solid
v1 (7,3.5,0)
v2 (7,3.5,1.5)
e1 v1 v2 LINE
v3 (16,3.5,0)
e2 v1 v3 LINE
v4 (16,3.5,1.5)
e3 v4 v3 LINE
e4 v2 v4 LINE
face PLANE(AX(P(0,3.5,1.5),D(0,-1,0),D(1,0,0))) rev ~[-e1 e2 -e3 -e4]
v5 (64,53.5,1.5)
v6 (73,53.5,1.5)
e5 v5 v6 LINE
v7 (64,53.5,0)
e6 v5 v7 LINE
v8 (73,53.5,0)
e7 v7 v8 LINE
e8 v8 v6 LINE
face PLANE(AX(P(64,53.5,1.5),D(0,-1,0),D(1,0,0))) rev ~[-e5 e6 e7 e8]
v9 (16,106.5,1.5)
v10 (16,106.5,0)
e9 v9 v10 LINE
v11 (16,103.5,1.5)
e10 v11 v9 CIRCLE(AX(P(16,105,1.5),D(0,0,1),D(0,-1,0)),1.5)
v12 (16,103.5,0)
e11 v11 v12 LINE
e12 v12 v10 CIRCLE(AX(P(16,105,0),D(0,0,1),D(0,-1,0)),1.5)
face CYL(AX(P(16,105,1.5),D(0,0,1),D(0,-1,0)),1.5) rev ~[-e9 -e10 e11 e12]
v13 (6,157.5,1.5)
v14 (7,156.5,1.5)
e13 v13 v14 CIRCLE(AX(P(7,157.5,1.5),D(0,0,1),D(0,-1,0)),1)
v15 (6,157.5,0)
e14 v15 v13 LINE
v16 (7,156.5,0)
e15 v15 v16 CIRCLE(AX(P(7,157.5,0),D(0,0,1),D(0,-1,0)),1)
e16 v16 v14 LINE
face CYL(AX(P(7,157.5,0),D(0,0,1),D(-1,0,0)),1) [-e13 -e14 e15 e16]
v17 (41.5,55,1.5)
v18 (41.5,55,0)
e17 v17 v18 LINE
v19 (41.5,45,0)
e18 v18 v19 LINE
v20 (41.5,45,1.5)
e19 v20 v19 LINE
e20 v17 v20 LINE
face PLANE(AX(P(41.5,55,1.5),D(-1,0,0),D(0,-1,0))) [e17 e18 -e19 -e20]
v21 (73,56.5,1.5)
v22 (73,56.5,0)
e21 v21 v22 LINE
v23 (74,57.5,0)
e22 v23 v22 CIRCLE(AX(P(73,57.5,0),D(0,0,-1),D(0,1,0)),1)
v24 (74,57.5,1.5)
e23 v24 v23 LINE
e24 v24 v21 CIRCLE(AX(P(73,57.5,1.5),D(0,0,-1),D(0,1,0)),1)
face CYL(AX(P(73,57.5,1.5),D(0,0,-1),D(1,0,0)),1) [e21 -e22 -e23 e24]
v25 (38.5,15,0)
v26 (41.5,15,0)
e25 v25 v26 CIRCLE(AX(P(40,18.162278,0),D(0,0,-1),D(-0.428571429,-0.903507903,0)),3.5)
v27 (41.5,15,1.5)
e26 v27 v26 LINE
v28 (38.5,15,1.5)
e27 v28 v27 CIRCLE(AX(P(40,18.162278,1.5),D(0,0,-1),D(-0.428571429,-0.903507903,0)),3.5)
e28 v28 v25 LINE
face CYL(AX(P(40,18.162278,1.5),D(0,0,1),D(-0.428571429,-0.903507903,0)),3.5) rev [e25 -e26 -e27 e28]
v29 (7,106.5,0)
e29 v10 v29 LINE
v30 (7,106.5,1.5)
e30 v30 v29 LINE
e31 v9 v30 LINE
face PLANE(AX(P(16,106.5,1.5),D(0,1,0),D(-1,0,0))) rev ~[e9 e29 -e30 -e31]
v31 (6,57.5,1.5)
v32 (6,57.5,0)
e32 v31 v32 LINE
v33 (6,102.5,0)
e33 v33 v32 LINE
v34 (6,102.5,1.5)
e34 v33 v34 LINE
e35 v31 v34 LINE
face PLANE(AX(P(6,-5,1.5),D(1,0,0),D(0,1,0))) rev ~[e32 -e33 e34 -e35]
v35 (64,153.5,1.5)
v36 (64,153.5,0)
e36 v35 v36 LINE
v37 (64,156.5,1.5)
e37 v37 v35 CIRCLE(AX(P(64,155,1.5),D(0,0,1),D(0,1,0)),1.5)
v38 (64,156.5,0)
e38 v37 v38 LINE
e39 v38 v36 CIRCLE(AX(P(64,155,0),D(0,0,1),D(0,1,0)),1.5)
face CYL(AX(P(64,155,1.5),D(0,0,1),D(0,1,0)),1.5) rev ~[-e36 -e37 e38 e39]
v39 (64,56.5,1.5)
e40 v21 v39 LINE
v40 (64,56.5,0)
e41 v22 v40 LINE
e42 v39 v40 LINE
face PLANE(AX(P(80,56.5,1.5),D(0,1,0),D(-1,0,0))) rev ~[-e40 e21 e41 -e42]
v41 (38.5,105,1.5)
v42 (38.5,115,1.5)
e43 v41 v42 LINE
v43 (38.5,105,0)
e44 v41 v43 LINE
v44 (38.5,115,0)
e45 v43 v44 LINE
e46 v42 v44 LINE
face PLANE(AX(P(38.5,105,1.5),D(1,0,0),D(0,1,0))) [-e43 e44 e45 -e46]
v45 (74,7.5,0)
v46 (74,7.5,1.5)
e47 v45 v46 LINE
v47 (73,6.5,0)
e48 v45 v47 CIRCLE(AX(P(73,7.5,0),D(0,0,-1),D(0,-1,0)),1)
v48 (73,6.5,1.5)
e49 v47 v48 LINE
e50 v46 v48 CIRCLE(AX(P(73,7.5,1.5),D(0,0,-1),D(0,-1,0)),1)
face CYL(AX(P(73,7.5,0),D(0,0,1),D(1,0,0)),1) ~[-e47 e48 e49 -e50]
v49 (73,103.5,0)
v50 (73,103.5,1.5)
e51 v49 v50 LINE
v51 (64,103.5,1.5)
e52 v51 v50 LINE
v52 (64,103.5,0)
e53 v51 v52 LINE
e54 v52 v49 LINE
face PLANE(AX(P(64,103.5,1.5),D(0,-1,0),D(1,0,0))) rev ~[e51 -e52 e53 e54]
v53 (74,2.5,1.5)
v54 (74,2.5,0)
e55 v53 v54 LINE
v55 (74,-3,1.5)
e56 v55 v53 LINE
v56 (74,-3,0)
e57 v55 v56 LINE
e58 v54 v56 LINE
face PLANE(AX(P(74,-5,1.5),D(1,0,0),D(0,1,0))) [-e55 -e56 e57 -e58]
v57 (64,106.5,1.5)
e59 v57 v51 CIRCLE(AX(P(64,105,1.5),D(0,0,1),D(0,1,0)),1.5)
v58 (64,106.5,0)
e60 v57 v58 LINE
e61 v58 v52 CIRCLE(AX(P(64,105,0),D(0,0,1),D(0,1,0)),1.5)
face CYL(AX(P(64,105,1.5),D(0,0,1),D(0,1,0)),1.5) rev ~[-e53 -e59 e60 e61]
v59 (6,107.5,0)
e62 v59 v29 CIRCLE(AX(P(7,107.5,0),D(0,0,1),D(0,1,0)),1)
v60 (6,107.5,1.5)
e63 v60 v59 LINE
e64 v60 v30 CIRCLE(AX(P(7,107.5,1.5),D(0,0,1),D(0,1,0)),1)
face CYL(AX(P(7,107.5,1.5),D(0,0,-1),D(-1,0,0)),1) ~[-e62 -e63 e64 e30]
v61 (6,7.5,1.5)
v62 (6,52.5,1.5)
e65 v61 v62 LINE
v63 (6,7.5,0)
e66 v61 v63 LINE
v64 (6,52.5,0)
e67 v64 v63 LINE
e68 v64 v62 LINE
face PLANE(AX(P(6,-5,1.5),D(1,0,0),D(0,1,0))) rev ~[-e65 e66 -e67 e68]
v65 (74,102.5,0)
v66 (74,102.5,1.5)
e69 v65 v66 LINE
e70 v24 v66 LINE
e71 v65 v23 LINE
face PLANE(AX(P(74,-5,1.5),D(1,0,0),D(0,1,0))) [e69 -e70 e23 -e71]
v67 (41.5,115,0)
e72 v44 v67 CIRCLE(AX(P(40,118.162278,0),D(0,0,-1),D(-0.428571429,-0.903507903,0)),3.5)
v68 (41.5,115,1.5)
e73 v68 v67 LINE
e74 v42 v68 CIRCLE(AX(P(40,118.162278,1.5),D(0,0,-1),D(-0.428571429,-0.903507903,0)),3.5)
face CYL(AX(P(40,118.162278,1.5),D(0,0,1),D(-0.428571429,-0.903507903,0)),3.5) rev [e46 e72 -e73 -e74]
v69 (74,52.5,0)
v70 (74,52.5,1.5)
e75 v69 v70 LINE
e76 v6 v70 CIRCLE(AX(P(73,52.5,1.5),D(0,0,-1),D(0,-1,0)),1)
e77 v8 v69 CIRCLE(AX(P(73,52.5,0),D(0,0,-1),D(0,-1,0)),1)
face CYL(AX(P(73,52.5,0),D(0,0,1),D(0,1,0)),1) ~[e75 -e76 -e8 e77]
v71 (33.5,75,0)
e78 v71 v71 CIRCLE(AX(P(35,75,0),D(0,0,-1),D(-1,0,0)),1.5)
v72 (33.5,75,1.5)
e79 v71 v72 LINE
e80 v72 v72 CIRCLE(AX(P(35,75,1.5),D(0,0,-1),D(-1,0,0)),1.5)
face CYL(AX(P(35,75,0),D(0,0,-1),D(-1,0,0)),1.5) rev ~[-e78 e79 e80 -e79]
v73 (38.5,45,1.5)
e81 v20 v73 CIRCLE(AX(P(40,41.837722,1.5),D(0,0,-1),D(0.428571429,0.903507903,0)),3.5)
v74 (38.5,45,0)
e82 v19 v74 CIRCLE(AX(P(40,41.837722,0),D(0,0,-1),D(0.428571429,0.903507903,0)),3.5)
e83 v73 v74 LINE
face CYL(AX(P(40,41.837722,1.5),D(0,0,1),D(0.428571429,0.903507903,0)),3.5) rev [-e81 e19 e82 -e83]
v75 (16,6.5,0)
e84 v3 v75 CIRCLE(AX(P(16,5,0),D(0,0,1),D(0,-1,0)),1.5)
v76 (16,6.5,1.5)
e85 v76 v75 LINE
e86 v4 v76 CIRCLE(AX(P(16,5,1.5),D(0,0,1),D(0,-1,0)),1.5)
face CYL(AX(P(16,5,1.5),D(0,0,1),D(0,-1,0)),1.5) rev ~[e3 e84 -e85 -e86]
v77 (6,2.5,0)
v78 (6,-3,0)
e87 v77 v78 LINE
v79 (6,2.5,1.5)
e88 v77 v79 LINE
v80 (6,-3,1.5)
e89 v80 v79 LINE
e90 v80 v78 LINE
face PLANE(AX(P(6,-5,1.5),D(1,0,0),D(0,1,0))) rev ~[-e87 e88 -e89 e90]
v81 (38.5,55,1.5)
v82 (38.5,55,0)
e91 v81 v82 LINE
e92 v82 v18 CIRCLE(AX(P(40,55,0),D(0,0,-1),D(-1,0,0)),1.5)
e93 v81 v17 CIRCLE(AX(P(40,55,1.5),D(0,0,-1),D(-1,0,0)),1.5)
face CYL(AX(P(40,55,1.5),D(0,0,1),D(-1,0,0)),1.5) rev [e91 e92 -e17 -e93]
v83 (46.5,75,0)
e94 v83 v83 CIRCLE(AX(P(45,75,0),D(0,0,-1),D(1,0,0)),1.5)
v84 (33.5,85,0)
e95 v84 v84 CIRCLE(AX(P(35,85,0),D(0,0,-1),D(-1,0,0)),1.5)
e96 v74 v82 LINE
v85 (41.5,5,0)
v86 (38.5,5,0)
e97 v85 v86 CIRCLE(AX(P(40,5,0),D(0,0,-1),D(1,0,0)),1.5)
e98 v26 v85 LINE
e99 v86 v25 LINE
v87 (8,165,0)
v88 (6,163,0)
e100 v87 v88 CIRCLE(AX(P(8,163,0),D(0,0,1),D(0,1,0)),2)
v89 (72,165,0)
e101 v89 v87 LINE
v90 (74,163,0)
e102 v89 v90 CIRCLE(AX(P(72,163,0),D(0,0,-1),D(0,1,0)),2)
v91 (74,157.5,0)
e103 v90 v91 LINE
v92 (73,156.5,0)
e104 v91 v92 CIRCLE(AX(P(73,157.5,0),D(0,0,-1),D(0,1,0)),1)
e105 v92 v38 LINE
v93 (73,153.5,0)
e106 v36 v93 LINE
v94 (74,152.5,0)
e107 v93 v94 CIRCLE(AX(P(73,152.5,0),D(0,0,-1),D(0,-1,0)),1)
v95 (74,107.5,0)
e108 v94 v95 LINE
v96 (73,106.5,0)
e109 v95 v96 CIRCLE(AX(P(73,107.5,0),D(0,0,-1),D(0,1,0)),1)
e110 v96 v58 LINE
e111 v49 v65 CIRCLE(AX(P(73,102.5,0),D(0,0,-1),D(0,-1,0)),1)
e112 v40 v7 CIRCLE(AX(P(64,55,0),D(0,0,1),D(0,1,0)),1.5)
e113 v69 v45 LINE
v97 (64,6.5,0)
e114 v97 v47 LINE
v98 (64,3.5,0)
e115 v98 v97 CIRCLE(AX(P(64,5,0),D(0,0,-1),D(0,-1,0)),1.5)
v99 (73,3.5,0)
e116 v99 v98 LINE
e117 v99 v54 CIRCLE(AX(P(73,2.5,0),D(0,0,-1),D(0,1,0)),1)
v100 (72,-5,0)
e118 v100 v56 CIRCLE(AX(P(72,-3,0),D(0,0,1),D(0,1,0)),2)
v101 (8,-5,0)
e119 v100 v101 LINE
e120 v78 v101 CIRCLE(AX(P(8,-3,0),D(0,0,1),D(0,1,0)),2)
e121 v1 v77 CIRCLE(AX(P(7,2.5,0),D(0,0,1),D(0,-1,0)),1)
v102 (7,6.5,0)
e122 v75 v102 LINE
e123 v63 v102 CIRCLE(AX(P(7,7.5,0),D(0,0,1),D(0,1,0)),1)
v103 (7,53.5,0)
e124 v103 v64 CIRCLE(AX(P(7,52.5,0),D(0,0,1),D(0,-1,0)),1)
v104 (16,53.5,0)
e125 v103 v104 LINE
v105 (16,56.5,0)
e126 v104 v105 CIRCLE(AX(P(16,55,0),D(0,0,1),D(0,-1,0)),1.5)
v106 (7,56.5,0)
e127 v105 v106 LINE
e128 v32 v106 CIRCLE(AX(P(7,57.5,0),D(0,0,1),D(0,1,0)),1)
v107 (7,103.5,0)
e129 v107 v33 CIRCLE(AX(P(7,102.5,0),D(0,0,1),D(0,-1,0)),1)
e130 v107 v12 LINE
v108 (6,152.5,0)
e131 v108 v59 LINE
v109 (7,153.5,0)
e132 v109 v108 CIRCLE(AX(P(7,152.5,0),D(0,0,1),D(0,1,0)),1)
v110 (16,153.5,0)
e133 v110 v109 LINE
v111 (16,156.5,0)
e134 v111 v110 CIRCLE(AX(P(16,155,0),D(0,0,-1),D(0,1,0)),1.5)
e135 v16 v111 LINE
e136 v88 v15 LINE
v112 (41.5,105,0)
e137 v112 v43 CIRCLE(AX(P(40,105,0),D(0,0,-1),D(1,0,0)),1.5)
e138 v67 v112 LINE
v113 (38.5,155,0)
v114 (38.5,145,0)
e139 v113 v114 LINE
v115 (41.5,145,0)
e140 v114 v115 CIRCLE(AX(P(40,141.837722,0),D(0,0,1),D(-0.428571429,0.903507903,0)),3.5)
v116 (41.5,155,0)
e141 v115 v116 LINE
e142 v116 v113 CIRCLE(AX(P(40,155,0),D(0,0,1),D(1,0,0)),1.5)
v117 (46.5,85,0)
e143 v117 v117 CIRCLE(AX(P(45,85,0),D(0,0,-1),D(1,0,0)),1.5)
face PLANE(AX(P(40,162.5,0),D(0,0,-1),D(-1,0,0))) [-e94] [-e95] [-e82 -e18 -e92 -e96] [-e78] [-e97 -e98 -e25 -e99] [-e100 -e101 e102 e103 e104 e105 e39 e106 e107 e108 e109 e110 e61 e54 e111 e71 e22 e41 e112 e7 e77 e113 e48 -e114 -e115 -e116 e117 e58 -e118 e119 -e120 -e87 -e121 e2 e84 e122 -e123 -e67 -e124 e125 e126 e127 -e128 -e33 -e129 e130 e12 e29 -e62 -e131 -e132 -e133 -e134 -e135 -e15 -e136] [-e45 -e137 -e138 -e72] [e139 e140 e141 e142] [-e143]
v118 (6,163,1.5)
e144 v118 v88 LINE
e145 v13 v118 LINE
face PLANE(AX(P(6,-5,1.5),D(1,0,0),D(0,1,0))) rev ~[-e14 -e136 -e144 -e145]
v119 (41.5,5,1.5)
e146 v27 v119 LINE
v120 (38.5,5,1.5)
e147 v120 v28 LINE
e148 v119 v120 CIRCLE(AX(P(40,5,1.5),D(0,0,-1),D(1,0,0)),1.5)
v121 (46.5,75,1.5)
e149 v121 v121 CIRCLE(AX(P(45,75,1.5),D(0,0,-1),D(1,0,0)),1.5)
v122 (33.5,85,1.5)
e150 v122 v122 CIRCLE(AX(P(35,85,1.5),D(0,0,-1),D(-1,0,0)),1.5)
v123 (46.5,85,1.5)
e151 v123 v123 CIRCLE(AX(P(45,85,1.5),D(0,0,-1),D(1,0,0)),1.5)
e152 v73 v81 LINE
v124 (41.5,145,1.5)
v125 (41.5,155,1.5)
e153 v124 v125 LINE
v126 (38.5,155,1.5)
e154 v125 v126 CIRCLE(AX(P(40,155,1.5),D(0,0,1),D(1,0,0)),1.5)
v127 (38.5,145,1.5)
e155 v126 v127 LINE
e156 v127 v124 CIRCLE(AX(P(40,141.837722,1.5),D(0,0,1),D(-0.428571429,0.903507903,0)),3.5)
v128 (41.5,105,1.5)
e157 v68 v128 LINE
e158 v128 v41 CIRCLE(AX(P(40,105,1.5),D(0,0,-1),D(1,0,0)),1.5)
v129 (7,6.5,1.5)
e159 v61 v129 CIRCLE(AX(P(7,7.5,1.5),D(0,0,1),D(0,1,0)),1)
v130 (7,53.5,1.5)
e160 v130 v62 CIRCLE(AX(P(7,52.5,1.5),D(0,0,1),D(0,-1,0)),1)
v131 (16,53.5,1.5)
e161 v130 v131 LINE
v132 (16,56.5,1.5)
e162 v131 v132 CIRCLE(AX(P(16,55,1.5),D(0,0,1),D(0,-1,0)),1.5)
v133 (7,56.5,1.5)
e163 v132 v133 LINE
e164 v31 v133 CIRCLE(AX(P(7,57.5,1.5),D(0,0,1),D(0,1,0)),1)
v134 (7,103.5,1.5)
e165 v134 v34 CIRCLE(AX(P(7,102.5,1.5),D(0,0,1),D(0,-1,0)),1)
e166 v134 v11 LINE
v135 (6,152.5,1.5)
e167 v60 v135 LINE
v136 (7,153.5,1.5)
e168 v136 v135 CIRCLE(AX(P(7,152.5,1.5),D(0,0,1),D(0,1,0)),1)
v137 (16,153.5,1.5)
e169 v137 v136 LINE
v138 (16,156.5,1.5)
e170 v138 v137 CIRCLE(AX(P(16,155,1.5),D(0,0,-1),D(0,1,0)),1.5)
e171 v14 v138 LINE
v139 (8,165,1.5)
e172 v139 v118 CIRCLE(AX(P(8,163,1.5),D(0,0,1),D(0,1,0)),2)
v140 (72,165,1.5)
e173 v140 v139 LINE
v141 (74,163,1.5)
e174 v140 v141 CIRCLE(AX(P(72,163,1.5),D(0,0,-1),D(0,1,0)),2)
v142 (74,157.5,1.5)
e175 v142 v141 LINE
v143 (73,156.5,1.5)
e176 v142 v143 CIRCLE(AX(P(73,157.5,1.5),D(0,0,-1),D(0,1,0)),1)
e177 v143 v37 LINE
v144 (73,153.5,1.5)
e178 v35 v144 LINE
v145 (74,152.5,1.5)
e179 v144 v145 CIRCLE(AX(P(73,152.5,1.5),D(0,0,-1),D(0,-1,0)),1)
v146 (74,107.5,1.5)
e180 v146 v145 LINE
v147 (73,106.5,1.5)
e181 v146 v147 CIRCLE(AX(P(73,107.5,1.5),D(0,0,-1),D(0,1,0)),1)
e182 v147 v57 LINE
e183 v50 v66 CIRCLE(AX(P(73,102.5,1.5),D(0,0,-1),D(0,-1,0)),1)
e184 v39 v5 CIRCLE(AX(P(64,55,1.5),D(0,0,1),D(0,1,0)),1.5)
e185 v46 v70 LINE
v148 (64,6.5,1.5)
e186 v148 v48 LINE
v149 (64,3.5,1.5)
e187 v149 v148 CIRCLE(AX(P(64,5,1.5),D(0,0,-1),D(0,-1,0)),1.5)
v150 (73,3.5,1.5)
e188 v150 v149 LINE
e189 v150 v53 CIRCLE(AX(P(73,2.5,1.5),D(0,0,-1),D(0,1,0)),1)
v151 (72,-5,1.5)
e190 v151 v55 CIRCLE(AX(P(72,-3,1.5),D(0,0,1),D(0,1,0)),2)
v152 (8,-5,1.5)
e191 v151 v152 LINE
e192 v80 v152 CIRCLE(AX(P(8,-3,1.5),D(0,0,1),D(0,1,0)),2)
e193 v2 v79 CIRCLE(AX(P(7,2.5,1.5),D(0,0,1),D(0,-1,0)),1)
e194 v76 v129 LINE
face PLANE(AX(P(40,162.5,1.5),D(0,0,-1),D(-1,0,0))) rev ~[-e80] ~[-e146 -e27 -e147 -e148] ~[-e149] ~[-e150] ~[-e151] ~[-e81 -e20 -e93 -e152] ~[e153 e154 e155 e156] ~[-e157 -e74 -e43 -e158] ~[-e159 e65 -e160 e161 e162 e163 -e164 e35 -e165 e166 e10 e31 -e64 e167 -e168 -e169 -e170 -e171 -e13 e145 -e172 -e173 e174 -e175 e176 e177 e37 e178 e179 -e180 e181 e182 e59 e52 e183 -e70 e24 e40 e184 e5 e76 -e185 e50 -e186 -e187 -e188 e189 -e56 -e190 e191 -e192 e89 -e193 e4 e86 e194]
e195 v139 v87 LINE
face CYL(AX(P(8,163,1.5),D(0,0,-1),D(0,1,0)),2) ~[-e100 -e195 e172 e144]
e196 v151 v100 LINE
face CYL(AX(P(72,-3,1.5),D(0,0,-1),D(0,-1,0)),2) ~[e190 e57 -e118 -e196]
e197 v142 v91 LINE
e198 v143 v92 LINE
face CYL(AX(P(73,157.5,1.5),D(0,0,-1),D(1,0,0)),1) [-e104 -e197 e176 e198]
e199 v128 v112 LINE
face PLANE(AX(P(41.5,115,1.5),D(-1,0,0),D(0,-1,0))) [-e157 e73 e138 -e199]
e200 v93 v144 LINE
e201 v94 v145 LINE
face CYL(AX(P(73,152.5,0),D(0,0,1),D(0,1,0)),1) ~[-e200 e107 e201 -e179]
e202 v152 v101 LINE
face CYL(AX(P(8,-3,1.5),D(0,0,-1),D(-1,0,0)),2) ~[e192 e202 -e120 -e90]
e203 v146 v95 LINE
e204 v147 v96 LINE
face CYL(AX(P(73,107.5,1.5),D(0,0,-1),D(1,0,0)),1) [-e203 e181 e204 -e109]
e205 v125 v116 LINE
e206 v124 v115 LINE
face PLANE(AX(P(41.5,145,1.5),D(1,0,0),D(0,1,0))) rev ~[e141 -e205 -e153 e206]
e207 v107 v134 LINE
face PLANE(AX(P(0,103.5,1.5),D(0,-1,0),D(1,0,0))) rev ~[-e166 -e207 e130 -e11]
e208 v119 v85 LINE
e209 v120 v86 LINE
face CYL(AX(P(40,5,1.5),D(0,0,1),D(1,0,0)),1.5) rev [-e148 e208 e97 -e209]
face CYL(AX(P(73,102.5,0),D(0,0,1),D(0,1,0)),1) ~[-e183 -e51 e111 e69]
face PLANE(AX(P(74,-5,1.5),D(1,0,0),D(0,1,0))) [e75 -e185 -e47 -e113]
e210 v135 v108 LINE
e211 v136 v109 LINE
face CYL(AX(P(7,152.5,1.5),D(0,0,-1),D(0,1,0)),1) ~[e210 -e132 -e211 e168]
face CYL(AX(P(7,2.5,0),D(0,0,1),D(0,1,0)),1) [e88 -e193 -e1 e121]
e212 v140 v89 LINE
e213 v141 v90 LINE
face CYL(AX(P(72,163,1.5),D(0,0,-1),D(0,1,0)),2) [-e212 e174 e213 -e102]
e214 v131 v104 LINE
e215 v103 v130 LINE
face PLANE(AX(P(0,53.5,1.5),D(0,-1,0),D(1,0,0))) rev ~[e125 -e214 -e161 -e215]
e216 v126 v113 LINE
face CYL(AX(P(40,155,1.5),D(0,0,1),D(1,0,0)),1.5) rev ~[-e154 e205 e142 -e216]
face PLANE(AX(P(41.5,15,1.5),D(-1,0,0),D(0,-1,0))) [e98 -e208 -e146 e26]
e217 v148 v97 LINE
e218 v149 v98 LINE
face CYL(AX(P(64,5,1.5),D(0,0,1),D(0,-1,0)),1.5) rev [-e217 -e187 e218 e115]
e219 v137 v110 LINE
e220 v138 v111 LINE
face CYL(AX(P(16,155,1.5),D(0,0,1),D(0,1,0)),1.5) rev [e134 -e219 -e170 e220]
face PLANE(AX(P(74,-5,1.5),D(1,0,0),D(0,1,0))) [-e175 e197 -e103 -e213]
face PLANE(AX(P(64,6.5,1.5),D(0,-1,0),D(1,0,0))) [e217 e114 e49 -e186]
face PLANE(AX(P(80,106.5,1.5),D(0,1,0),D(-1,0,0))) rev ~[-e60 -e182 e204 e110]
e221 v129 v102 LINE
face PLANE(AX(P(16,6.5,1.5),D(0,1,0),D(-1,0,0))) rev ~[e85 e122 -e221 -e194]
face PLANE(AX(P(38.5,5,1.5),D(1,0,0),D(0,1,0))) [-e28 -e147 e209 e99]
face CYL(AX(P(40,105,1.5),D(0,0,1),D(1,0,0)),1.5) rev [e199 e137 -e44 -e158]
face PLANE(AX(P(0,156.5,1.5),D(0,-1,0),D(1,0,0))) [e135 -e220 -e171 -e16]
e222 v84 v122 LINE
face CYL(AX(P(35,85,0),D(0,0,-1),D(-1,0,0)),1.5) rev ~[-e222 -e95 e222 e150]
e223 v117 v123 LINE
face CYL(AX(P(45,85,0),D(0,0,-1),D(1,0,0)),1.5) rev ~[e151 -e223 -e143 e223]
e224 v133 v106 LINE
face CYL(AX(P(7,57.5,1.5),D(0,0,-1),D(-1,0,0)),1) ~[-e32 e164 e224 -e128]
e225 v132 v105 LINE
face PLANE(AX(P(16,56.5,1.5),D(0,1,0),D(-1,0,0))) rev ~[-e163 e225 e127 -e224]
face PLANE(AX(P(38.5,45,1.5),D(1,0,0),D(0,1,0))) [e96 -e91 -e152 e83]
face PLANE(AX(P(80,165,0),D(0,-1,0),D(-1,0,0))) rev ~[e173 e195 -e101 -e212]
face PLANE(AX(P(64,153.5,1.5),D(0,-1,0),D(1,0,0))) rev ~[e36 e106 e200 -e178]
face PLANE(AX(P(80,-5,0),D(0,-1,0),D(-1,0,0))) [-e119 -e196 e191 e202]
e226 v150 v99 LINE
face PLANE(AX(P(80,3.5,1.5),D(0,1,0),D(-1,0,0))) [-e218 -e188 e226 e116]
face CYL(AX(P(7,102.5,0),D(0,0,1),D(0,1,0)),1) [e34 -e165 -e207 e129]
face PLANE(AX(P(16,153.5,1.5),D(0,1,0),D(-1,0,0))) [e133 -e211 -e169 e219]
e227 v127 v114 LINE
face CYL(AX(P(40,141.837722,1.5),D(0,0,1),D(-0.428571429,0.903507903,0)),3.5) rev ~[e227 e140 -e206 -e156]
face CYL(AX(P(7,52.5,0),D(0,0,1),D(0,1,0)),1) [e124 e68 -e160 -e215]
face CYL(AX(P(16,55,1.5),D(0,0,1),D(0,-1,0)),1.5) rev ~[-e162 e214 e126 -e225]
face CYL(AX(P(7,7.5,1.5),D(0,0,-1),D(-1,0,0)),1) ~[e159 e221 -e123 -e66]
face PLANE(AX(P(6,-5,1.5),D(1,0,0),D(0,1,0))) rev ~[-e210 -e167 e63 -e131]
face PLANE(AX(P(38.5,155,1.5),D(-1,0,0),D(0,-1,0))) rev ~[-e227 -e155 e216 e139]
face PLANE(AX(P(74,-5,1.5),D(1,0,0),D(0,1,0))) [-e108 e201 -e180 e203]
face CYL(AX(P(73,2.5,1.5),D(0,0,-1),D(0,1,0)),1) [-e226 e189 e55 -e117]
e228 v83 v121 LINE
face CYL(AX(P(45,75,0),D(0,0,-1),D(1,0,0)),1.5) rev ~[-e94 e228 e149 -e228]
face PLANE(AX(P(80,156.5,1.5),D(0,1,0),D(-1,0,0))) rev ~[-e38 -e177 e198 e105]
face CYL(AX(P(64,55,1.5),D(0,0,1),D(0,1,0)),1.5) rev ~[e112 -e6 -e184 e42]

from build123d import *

# Parameters (mm, degrees)
EXTRUDE_1_DEPTH      = 1.5
CUT_EXTRUDE_1_DEPTH  = 1.5
SKETCH_3_R           = 2
CUT_EXTRUDE_2_DEPTH  = 1.5
SKETCH_4_W           = 80
SKETCH_4_H           = 5
EXTRUDE_2_DEPTH      = 1.5
FILLET_1_R           = 2
SKETCH_5_OUTSIDE_W   = 163.618
SKETCH_5_OUTSIDE_H   = 213.618
SKETCH_5_OUTSIDE_W_2 = 80
SKETCH_5_OUTSIDE_H_2 = 170
CUT_EXTRUDE_3_DEPTH  = 193.943644622
SKETCH_6_R           = 1.5
CUT_EXTRUDE_4_DEPTH  = 184.377343202
SKETCH_7_W           = 6
SKETCH_7_H           = 170
CUT_EXTRUDE_5_DEPTH  = 10
FILLET_2_R           = 2
FILLET_3_R           = 1
FILLET_4_R           = 1


with BuildPart() as part:
    # 草图1 → 凸台-拉伸1 (new body)
    with BuildSketch(Plane.XY):
        Polygon((80, 90), (100, 90), (100, 70), (80, 70), (80, 0), (0, 0), (0, 70), (-20, 70), (-20, 90), (0, 90), (0, 160), (80, 160), align=None)
    extrude(amount=EXTRUDE_1_DEPTH)

    # 草图2 → 切除-拉伸1 (cut)
    with BuildSketch(Plane.XY.offset(1.5)):
        with BuildLine():
            Line((64, 153.5), (80, 153.5))
            Line((80, 153.5), (80, 156.5))
            Line((80, 156.5), (64, 156.5))
            ThreePointArc((64, 156.5), (62.5, 155), (64, 153.5))
        make_face()
        with BuildLine():
            Line((38.5, 5), (38.5, 15))
            ThreePointArc((38.5, 15), (40, 21.66227766), (41.5, 15))
            Line((41.5, 15), (41.5, 5))
            ThreePointArc((41.5, 5), (40, 3.5), (38.5, 5))
        make_face()
        with BuildLine():
            Line((16, 153.5), (0, 153.5))
            Line((0, 153.5), (0, 156.5))
            Line((0, 156.5), (16, 156.5))
            ThreePointArc((16, 156.5), (17.5, 155), (16, 153.5))
        make_face()
        with BuildLine():
            Line((64, 103.5), (80, 103.5))
            Line((80, 103.5), (80, 106.5))
            Line((80, 106.5), (64, 106.5))
            ThreePointArc((64, 106.5), (62.5, 105), (64, 103.5))
        make_face()
        with BuildLine():
            Line((16, 106.5), (0, 106.5))
            Line((0, 106.5), (0, 103.5))
            Line((0, 103.5), (16, 103.5))
            ThreePointArc((16, 103.5), (17.5, 105), (16, 106.5))
        make_face()
        with BuildLine():
            Line((16, 56.5), (0, 56.5))
            Line((0, 56.5), (0, 53.5))
            Line((0, 53.5), (16, 53.5))
            ThreePointArc((16, 53.5), (17.5, 55), (16, 56.5))
        make_face()
        with BuildLine():
            Line((64, 53.5), (80, 53.5))
            Line((80, 53.5), (80, 56.5))
            Line((80, 56.5), (64, 56.5))
            ThreePointArc((64, 56.5), (62.5, 55), (64, 53.5))
        make_face()
        with BuildLine():
            Line((16, 6.5), (0, 6.5))
            Line((0, 6.5), (0, 3.5))
            Line((0, 3.5), (16, 3.5))
            ThreePointArc((16, 3.5), (17.5, 5), (16, 6.5))
        make_face()
        with BuildLine():
            Line((64, 6.5), (80, 6.5))
            Line((80, 6.5), (80, 3.5))
            Line((80, 3.5), (64, 3.5))
            ThreePointArc((64, 3.5), (62.5, 5), (64, 6.5))
        make_face()
        with BuildLine():
            Line((38.5, 155), (38.5, 145))
            ThreePointArc((38.5, 145), (40, 138.33772234), (41.5, 145))
            Line((41.5, 145), (41.5, 155))
            ThreePointArc((41.5, 155), (40, 156.5), (38.5, 155))
        make_face()
        with BuildLine():
            Line((41.5, 55), (41.5, 45))
            ThreePointArc((41.5, 45), (40, 38.33772234), (38.5, 45))
            Line((38.5, 45), (38.5, 55))
            ThreePointArc((38.5, 55), (40, 56.5), (41.5, 55))
        make_face()
        with BuildLine():
            Line((38.5, 105), (38.5, 115))
            ThreePointArc((38.5, 115), (40, 121.66227766), (41.5, 115))
            Line((41.5, 115), (41.5, 105))
            ThreePointArc((41.5, 105), (40, 103.5), (38.5, 105))
        make_face()
    extrude(amount=-CUT_EXTRUDE_1_DEPTH, mode=Mode.SUBTRACT)

    # 草图3 → 切除-拉伸2 (cut)
    with BuildSketch(Plane.XY.offset(1.5)):
        with Locations((90, 80)):
            Circle(SKETCH_3_R)
        with Locations((-10, 80)):
            Circle(SKETCH_3_R)
    extrude(amount=-CUT_EXTRUDE_2_DEPTH, mode=Mode.SUBTRACT)

    # 草图4 → 凸台-拉伸2 (add)
    with BuildSketch(Plane(origin=(0, 0, 0), x_dir=(-1, 0, 0), z_dir=(0, 0, -1))):
        with Locations((-40, 162.5)):
            Rectangle(SKETCH_4_W, SKETCH_4_H)
        with Locations((-40, -2.5)):
            Rectangle(SKETCH_4_W, SKETCH_4_H)
    extrude(amount=-EXTRUDE_2_DEPTH)

    # 圆角1
    fillet_1_edges = [part.edges().sort_by_distance(p)[0] for p in [
        (0, 165, 0.75),
        (80, 165, 0.75),
        (0, -5, 0.75),
        (80, -5, 0.75),
    ]]
    fillet(fillet_1_edges, radius=FILLET_1_R)

    # 草图5 outside → 切除-拉伸3 (cut, through all)
    with BuildSketch(Plane.XY.offset(1.5)):
        with Locations((40, 80)):
            Rectangle(SKETCH_5_OUTSIDE_W, SKETCH_5_OUTSIDE_H)
        with Locations((40, 80)):
            Rectangle(SKETCH_5_OUTSIDE_W_2, SKETCH_5_OUTSIDE_H_2, mode=Mode.SUBTRACT)
    extrude(amount=-CUT_EXTRUDE_3_DEPTH, mode=Mode.SUBTRACT)

    # 草图6 → 切除-拉伸4 (cut, through all)
    with BuildSketch(Plane(origin=(0, 0, 0), x_dir=(-1, 0, 0), z_dir=(0, 0, -1))):
        with Locations((-35, 85)):
            Circle(SKETCH_6_R)
        with Locations((-35, 75)):
            Circle(SKETCH_6_R)
        with Locations(Location((-45, 75, 0), (0, 0, 180))):
            Circle(SKETCH_6_R)
        with Locations(Location((-45, 85, 0), (0, 0, 180))):
            Circle(SKETCH_6_R)
    extrude(amount=-CUT_EXTRUDE_4_DEPTH, mode=Mode.SUBTRACT)

    # 草图7 → 切除-拉伸5 (cut)
    with BuildSketch(Plane.XY.offset(1.5)):
        with Locations((3, 80)):
            Rectangle(SKETCH_7_W, SKETCH_7_H)
        with Locations((77, 80)):
            Rectangle(SKETCH_7_W, SKETCH_7_H)
    extrude(amount=-CUT_EXTRUDE_5_DEPTH, mode=Mode.SUBTRACT)

    # 圆角2
    fillet_2_edges = [part.edges().sort_by_distance(p)[0] for p in [
        (6, 165, 0.75),
        (6, -5, 0.75),
        (74, -5, 0.75),
        (74, 165, 0.75),
    ]]
    fillet(fillet_2_edges, radius=FILLET_2_R)

    # 圆角3
    fillet_3_edges = [part.edges().sort_by_distance(p)[0] for p in [
        (6, 156.5, 0.75),
        (6, 153.5, 0.75),
    ]]
    fillet(fillet_3_edges, radius=FILLET_3_R)

    # 圆角4
    fillet_4_edges = [part.edges().sort_by_distance(p)[0] for p in [
        (6, 106.5, 0.75),
        (6, 103.5, 0.75),
        (6, 56.5, 0.75),
        (6, 3.5, 0.75),
        (6, 53.5, 0.75),
        (6, 6.5, 0.75),
        (74, 156.5, 0.75),
        (74, 153.5, 0.75),
        (74, 106.5, 0.75),
        (74, 3.5, 0.75),
        (74, 103.5, 0.75),
        (74, 56.5, 0.75),
        (74, 6.5, 0.75),
        (74, 53.5, 0.75),
    ]]
    fillet(fillet_4_edges, radius=FILLET_4_R)


solid = part.part
